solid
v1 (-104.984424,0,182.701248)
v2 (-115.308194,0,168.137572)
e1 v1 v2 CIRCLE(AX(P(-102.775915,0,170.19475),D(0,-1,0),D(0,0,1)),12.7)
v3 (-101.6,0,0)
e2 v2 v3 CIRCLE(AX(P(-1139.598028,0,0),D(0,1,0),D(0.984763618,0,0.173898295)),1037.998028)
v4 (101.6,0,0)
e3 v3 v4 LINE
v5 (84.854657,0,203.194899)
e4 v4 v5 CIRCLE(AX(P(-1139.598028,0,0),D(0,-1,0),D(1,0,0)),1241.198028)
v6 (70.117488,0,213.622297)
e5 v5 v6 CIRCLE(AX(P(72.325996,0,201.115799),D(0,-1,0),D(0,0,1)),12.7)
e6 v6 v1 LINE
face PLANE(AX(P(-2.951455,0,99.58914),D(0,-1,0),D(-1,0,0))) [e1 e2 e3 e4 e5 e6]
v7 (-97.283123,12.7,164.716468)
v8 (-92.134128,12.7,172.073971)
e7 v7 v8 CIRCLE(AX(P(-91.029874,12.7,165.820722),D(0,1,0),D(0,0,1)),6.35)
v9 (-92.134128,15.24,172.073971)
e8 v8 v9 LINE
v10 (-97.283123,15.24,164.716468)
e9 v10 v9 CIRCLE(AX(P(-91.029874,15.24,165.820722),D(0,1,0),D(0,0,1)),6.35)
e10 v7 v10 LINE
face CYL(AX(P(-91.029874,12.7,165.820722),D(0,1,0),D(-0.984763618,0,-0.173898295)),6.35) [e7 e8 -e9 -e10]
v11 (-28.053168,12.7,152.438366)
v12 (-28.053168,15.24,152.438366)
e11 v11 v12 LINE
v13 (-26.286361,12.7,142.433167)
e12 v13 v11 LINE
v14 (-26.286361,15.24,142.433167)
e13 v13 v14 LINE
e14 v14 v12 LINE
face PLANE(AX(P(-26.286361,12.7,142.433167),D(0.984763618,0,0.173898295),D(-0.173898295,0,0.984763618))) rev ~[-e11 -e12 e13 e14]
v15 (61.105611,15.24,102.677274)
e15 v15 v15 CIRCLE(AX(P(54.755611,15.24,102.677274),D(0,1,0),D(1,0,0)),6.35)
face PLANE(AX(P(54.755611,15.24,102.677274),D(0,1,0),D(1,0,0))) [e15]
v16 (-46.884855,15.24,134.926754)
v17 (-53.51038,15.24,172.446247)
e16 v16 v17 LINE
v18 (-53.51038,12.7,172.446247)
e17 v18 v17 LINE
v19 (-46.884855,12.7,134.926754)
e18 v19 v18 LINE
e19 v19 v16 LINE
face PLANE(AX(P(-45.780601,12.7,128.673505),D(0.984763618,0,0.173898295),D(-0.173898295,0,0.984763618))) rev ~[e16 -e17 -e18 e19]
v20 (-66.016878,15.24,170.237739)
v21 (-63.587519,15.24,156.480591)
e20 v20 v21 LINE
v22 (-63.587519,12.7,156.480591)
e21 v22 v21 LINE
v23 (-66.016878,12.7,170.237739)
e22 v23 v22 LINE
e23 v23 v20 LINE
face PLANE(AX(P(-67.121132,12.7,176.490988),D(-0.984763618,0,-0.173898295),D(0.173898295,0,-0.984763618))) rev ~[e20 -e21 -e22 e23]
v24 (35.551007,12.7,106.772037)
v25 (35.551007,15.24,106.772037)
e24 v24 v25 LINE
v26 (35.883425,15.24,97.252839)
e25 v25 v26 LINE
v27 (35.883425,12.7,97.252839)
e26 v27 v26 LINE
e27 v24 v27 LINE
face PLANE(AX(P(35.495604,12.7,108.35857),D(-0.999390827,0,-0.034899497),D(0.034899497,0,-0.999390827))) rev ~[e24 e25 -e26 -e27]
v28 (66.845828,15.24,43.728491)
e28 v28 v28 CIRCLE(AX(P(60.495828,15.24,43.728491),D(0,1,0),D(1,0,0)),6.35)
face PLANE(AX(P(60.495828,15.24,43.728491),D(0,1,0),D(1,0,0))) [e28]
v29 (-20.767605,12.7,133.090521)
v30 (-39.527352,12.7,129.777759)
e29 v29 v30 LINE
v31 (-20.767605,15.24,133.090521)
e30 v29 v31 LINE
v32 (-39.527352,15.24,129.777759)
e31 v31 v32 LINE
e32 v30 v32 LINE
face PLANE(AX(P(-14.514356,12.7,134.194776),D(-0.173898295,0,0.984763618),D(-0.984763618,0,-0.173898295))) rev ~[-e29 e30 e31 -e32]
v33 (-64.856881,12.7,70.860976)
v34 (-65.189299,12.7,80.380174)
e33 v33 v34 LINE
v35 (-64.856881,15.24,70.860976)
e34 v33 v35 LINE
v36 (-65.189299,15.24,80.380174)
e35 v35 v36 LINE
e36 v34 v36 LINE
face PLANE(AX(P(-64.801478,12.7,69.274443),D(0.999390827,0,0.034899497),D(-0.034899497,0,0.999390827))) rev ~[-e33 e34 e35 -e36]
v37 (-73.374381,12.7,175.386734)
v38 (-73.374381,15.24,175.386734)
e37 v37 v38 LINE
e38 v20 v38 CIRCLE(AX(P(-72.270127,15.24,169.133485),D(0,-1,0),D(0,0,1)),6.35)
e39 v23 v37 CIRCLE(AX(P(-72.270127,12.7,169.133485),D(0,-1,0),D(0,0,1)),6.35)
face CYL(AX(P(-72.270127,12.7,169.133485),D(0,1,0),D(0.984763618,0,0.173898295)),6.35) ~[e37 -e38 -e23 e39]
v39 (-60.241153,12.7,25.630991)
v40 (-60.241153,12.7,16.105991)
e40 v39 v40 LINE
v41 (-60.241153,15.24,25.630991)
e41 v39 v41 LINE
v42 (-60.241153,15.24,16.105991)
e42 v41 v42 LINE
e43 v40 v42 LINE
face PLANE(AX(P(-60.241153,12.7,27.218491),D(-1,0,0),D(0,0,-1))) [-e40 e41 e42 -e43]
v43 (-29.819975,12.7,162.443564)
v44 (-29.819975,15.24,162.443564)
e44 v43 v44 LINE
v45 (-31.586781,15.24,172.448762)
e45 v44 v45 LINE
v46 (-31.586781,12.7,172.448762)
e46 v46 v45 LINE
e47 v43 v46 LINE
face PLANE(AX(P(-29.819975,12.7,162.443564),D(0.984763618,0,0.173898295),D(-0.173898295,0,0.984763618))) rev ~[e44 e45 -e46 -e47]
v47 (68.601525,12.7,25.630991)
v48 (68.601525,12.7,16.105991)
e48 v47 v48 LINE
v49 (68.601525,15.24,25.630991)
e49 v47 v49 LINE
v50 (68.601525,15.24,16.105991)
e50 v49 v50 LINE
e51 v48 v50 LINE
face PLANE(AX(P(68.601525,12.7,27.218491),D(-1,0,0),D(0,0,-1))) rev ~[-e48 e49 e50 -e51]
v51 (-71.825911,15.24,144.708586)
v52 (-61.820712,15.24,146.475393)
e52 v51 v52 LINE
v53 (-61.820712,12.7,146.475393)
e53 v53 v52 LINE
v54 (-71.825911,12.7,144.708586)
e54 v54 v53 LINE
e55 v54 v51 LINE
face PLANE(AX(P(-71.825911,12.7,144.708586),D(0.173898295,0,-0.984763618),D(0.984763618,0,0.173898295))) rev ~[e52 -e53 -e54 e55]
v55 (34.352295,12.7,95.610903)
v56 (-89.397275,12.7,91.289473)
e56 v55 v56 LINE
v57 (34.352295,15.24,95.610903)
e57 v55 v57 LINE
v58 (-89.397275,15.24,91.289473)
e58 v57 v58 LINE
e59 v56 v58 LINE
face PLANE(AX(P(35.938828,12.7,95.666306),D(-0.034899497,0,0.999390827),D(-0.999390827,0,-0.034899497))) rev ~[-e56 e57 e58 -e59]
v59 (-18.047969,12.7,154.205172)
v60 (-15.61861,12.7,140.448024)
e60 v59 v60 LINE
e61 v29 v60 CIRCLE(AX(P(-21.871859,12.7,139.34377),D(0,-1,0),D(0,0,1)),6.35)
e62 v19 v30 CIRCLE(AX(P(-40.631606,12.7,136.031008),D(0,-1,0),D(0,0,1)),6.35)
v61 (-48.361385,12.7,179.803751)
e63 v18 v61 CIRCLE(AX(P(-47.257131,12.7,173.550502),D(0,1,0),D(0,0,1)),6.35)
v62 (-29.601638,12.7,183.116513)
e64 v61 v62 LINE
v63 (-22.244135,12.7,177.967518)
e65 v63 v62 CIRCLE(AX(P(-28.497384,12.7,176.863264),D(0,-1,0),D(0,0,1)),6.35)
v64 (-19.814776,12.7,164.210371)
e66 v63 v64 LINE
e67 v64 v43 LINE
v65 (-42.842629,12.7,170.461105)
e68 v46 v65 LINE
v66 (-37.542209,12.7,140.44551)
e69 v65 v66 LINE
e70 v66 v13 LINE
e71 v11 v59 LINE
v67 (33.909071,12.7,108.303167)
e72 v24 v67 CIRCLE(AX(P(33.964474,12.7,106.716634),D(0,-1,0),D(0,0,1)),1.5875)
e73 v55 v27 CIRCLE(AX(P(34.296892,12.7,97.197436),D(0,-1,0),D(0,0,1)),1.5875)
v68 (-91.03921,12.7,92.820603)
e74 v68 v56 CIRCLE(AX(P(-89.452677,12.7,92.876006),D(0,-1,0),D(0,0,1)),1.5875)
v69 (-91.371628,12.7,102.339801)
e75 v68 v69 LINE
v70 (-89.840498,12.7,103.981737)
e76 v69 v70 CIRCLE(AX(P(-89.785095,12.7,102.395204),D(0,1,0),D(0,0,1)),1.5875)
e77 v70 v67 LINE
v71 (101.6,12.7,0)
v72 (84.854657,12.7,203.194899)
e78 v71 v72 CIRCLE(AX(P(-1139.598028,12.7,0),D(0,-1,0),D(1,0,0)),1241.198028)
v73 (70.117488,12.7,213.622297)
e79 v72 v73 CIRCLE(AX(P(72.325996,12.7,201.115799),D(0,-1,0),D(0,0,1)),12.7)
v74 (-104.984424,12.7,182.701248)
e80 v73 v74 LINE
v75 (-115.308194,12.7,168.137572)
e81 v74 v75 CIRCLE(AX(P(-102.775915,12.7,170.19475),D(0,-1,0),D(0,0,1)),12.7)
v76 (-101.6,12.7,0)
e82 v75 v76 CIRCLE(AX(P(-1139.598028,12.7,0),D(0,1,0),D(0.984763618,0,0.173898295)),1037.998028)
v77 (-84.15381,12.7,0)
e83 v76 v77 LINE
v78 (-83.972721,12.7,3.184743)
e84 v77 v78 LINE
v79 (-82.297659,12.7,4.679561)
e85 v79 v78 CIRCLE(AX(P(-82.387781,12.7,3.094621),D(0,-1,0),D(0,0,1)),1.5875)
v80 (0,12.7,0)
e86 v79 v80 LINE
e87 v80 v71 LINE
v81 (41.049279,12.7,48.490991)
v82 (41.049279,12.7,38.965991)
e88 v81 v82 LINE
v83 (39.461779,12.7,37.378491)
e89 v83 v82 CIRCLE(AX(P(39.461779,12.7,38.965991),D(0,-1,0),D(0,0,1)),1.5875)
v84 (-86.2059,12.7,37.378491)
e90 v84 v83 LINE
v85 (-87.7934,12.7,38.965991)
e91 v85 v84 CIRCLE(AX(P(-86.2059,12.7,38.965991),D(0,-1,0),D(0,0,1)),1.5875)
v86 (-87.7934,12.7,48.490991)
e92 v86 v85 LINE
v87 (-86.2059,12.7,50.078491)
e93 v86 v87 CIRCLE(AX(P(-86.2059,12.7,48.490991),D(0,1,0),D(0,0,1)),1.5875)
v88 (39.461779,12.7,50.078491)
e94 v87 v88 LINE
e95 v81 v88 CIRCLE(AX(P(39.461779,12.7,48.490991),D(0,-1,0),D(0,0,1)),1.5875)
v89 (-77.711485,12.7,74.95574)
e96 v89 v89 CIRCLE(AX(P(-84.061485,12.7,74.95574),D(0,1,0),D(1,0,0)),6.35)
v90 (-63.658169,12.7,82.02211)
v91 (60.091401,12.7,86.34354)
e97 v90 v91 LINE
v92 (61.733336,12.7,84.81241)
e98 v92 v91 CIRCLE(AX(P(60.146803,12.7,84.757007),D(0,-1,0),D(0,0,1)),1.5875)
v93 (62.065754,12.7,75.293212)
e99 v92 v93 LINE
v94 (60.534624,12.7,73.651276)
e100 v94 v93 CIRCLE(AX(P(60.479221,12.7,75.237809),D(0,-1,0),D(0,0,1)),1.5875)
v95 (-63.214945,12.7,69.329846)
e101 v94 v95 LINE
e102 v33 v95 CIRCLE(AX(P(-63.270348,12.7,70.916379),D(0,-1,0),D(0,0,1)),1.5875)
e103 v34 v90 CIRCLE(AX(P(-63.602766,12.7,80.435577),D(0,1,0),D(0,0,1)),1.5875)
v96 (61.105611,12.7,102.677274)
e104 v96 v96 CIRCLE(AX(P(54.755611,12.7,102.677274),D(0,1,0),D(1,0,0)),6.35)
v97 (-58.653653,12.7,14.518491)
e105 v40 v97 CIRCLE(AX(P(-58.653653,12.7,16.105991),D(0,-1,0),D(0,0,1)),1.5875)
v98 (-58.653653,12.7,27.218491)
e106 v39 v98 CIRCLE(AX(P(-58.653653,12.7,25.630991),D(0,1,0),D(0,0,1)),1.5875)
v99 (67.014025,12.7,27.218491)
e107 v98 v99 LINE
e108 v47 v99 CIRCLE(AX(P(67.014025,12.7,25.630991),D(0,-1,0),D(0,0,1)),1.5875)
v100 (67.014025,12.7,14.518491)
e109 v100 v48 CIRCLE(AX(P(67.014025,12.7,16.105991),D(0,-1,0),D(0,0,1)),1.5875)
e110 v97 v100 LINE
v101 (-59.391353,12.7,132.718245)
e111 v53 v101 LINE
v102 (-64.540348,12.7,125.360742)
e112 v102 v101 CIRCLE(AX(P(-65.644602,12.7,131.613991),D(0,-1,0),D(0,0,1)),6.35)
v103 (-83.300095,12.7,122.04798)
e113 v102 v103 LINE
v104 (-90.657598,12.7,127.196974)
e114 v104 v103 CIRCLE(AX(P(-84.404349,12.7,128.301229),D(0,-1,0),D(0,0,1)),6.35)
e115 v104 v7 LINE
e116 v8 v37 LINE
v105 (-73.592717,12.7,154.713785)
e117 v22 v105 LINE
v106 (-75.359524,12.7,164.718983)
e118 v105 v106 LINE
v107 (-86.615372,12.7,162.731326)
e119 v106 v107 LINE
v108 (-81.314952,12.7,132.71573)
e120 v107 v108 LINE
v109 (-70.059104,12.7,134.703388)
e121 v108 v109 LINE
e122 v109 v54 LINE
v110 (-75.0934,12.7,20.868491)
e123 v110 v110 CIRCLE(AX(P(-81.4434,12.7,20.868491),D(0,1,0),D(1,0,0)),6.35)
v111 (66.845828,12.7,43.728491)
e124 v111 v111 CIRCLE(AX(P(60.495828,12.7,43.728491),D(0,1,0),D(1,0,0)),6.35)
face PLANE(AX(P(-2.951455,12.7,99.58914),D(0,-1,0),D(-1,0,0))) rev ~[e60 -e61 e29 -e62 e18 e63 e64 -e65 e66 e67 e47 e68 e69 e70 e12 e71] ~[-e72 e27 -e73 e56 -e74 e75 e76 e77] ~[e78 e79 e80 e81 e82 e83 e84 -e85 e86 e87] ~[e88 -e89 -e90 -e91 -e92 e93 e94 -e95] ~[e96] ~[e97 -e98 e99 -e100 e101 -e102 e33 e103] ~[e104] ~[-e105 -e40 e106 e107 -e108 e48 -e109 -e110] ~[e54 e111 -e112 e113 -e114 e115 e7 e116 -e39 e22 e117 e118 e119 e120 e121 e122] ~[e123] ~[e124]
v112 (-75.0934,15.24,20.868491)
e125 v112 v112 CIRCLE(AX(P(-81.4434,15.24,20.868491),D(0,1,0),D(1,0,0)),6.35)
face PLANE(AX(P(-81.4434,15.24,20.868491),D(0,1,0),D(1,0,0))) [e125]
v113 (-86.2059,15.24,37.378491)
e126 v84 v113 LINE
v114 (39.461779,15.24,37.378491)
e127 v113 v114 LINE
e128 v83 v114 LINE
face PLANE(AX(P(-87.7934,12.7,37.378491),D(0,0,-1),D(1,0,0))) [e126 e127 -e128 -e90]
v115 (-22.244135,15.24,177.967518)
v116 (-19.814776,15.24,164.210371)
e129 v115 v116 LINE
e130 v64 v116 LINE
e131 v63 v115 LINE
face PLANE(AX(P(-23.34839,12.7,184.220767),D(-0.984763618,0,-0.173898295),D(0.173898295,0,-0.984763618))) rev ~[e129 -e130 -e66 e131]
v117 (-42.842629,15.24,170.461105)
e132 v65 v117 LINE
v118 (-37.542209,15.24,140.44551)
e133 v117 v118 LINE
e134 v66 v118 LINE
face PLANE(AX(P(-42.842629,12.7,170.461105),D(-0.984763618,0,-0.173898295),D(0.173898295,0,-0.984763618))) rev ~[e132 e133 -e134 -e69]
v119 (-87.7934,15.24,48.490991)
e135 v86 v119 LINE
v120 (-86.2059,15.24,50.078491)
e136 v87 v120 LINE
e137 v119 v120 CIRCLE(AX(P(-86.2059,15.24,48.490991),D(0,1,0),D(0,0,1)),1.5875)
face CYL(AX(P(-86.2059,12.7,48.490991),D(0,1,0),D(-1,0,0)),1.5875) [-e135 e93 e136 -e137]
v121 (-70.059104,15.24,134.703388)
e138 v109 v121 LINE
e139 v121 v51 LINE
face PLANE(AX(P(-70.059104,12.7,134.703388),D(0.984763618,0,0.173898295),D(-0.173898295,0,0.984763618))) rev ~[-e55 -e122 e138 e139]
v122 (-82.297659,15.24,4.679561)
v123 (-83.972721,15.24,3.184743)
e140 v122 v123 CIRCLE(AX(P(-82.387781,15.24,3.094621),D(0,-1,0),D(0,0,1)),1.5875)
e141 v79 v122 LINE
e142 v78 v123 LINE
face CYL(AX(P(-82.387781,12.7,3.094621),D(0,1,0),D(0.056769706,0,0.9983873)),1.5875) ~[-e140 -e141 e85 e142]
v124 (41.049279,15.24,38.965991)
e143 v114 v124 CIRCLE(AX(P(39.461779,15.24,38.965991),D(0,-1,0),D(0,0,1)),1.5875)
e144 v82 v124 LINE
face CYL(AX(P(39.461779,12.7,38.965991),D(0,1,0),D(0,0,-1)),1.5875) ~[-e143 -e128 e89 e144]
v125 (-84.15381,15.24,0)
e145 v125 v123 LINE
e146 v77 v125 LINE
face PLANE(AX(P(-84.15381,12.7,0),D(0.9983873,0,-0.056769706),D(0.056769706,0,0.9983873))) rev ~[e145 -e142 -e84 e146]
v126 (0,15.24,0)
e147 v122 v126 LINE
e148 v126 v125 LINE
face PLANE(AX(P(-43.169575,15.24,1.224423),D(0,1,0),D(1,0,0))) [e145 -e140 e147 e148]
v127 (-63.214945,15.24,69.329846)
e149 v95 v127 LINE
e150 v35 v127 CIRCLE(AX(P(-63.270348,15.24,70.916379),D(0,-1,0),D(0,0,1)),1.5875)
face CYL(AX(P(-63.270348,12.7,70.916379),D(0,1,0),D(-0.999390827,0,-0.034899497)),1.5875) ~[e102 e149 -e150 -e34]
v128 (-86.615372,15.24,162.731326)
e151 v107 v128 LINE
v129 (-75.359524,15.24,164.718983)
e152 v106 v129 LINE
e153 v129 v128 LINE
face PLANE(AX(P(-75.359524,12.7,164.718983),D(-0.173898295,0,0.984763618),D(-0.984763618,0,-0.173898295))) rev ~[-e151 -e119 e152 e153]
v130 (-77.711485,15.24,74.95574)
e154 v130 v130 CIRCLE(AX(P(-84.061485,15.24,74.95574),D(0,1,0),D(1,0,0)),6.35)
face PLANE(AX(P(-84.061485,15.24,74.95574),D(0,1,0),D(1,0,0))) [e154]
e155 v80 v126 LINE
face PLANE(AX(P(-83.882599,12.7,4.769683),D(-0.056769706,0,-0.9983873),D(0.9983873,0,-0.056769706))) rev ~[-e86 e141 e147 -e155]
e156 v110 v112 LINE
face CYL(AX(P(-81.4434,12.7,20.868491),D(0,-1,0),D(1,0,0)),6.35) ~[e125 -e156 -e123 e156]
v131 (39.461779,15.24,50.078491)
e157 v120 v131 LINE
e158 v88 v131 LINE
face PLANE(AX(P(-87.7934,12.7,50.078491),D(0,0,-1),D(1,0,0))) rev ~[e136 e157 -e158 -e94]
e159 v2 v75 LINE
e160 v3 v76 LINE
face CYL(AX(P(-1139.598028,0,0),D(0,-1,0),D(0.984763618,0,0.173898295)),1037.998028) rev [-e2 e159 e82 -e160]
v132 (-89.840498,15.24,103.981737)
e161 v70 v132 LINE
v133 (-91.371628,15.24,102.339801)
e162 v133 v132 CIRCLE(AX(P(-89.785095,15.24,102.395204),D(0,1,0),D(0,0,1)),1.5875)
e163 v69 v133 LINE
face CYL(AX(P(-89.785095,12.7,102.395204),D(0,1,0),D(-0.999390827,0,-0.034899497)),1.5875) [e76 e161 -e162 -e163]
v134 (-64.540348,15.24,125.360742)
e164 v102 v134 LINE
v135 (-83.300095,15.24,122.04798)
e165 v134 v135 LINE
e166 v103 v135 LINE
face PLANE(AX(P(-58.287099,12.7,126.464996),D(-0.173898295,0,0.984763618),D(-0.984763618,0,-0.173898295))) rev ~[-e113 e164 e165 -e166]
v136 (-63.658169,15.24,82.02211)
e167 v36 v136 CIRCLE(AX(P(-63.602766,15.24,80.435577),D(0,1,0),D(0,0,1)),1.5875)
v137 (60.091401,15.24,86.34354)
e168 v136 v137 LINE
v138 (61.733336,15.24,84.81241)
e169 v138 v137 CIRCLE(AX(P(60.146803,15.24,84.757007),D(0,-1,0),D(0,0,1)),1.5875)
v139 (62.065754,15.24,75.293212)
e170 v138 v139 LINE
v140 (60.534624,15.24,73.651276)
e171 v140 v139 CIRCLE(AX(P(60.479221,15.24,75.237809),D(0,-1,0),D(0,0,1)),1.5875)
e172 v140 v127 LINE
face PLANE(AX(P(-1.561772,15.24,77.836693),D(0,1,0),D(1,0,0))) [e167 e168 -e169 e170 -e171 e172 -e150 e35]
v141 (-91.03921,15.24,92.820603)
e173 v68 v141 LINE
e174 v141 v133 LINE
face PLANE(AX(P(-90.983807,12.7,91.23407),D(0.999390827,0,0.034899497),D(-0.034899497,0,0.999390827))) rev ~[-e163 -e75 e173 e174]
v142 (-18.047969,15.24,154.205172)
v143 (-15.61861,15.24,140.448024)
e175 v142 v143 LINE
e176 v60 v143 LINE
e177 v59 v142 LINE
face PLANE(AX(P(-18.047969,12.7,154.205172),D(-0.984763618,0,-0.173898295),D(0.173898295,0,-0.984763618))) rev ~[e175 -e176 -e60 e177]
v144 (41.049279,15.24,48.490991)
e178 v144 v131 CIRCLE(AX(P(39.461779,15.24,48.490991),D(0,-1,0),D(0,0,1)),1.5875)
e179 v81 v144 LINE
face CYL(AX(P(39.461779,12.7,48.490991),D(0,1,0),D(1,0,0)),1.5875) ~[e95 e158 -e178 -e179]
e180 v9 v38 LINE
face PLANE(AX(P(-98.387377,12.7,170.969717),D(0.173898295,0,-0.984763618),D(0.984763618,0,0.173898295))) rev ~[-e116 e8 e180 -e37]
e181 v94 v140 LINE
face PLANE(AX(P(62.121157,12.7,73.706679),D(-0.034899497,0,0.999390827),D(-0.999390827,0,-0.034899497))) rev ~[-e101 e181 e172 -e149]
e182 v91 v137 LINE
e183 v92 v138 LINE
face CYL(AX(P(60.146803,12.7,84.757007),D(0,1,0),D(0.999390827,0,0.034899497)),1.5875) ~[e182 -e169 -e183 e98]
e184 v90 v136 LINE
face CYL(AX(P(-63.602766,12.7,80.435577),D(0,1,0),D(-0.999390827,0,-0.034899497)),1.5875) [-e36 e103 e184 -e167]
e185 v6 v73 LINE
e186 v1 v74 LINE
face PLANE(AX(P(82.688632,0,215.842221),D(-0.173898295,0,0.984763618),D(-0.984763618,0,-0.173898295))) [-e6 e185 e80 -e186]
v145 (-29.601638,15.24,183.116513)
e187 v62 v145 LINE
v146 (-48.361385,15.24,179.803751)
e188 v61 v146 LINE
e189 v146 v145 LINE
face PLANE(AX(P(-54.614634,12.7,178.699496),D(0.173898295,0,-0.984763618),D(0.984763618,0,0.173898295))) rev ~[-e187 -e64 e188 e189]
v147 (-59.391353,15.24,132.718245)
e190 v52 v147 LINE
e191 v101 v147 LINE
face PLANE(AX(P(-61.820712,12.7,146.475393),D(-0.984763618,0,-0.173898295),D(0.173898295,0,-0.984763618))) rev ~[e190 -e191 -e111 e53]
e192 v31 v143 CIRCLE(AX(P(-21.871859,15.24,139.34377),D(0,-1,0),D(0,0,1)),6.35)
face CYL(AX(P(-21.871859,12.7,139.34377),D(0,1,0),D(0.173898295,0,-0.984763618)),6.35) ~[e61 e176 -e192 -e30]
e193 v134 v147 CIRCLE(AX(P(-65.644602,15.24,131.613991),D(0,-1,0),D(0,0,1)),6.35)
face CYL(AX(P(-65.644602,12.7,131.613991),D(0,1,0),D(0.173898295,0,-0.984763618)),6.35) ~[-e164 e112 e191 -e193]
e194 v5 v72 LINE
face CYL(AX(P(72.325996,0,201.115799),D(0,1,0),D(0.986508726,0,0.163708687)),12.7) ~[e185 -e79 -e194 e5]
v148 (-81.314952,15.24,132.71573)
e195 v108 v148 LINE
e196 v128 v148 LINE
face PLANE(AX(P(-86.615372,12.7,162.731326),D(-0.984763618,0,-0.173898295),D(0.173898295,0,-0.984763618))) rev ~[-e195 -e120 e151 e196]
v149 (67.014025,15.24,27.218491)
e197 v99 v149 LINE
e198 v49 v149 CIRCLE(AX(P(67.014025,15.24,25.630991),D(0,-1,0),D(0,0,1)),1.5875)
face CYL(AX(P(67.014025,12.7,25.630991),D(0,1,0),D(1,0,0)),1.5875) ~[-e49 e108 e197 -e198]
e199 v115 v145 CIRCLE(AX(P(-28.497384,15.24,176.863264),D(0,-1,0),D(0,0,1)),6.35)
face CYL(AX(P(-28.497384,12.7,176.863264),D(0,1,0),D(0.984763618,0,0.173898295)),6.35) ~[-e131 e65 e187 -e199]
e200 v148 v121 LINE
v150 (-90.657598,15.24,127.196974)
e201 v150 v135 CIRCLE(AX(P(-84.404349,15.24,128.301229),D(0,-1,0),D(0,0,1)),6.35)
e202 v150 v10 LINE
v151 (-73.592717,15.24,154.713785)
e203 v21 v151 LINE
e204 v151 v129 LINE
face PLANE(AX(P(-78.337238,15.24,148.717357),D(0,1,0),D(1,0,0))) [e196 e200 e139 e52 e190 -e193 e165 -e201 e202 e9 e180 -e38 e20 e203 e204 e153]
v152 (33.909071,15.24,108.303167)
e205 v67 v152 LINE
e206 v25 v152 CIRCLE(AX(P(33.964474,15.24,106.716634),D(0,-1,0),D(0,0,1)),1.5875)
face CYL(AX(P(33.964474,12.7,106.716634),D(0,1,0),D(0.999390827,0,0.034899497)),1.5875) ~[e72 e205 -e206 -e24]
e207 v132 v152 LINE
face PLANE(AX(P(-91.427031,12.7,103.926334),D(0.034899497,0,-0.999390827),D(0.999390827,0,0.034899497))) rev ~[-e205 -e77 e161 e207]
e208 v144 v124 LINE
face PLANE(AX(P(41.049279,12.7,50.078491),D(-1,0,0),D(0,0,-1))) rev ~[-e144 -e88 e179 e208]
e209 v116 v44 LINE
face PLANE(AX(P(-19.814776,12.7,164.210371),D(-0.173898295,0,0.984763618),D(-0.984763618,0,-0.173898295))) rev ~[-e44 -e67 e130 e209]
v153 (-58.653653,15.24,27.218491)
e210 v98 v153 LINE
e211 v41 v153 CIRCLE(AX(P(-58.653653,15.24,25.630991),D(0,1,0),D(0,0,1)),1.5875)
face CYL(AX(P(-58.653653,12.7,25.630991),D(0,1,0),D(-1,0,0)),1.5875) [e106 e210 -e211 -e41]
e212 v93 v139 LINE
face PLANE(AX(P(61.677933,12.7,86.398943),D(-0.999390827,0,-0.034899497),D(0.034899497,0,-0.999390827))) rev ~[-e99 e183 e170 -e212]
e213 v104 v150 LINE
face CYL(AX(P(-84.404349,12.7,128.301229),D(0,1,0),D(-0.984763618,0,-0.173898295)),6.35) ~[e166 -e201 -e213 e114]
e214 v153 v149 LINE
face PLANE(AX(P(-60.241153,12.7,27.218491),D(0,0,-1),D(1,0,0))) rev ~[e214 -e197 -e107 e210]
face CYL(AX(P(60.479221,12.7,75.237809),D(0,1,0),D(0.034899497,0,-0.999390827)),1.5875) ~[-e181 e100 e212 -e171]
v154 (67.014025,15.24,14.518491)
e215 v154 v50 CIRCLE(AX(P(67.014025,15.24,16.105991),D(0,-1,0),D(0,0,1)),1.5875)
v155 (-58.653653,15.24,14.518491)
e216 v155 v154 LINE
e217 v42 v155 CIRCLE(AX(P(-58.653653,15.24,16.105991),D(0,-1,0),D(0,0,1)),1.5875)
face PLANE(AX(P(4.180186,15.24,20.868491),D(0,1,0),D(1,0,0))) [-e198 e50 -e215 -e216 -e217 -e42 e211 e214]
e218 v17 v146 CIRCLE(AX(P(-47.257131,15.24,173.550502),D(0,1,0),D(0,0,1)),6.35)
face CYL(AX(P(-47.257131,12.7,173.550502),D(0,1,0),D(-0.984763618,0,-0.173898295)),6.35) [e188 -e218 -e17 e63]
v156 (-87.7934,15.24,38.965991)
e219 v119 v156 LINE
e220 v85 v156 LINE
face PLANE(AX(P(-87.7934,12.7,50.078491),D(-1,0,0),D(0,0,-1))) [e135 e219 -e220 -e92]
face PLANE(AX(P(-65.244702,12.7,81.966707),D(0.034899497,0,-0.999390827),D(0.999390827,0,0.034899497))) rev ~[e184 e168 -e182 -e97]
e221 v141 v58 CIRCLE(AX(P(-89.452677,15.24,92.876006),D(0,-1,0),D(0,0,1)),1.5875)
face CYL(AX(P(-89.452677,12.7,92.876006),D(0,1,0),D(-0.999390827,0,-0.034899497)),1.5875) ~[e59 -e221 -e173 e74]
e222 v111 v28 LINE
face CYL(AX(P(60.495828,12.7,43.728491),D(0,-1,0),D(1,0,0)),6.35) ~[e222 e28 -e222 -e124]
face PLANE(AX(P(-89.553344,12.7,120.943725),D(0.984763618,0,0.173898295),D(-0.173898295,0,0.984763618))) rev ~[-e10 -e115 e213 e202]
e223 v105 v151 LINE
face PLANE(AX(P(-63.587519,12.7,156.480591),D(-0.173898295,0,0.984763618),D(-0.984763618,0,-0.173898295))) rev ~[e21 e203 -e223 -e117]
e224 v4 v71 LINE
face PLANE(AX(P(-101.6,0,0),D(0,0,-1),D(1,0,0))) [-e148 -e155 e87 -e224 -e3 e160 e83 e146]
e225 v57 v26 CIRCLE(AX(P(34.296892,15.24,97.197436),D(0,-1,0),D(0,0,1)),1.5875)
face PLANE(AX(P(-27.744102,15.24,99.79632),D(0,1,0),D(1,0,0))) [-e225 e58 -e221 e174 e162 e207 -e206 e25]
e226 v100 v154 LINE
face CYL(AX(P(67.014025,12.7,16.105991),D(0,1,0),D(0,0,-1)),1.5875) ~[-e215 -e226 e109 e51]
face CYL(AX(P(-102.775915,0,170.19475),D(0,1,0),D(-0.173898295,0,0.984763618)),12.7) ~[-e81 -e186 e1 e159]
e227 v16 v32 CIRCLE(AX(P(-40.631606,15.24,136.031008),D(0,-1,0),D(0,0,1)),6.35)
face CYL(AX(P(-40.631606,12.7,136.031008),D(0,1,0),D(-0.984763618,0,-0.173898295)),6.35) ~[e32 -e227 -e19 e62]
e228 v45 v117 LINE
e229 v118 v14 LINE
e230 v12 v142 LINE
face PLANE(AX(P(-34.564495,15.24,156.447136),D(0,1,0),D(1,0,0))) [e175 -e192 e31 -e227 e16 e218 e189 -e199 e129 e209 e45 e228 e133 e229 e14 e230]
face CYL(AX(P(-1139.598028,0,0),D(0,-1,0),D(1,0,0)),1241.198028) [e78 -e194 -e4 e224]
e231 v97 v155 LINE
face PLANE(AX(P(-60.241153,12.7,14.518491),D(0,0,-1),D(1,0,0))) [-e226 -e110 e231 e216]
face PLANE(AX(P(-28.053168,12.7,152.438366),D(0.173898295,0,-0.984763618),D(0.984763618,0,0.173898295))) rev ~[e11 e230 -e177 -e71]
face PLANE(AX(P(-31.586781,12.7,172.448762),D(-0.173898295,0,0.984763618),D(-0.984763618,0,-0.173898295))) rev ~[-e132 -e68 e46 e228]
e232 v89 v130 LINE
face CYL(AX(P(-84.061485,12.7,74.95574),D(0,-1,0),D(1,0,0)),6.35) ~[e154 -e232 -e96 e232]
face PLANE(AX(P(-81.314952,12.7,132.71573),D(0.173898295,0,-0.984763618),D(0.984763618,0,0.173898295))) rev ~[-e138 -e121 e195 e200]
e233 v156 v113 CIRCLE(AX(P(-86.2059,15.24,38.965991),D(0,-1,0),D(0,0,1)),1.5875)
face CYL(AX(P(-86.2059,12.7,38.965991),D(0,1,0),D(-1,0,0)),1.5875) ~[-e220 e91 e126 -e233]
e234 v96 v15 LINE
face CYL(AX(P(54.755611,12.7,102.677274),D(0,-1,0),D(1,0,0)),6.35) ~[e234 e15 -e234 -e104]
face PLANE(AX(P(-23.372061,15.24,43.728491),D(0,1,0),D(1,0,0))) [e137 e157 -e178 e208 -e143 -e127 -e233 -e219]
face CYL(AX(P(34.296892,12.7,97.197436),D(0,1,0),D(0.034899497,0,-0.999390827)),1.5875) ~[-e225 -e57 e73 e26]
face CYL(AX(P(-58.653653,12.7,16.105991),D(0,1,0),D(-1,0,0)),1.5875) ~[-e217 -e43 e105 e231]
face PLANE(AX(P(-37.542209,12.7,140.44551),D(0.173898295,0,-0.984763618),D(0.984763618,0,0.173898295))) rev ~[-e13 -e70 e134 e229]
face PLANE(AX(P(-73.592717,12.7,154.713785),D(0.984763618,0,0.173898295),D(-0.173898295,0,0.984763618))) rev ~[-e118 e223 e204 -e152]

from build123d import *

# Parameters (mm, degrees)
BOSS_EXTRUDE1_DEPTH = 12.7
FILLET1_R           = 12.7
BOSS_EXTRUDE2_DEPTH = 2.54
FILLET2_R           = 6.35
SKETCH3_R           = 6.35
SKETCH3_W           = 128.842678874
SKETCH3_H           = 12.7
BOSS_EXTRUDE3_DEPTH = 2.54
FILLET3_R           = 1.5875


with BuildPart() as part:
    # Sketch1 → Boss-Extrude1 (new body)
    with BuildSketch(Plane(origin=(0, 0, 0), x_dir=(1, 0, 0), z_dir=(0, 1, 0))):
        with BuildLine():
            Line((-101.6, 0), (101.6, 0))
            ThreePointArc((101.6, 0), (96.863119244, -108.334556213), (82.688632431, -215.842221209))
            Line((82.688632431, -215.842221209), (-117.415334702, -180.506087613))
            ThreePointArc((-117.415334702, -180.506087613), (-105.561392761, -90.598803078), (-101.6, 0))
        make_face()
    extrude(amount=BOSS_EXTRUDE1_DEPTH)

    # Fillet1
    fillet1_edges = [part.edges().sort_by_distance(p)[0] for p in [
        (82.688632431, 6.35, 215.842221209),
        (-117.415334702, 6.35, 180.506087613),
    ]]
    fillet(fillet1_edges, radius=FILLET1_R)

    # Sketch2 → Boss-Extrude2 (add)
    with BuildSketch(Plane(origin=(0, 12.7, 0), x_dir=(1, 0, 0), z_dir=(0, 1, 0))):
        Polygon((-54.61463437, -178.699496428), (-23.348389506, -184.220767302), (-19.814776146, -164.210370589), (-29.819974503, -162.443563909), (-31.586781182, -172.448762265), (-42.842629334, -170.461104751), (-37.542209294, -140.445509681), (-26.286361143, -142.433167195), (-28.053167823, -152.438365552), (-18.047969466, -154.205172232), (-14.514356107, -134.194775519), (-45.780600971, -128.673504644), align=None)
        Polygon((-98.387377181, -170.969717203), (-67.121132316, -176.490988078), (-63.587518956, -156.480591364), (-73.592717313, -154.713784685), (-75.359523993, -164.718983041), (-86.615372144, -162.731325527), (-81.314952105, -132.715730457), (-70.059103953, -134.703387971), (-71.825910633, -144.708586328), (-61.820712277, -146.475393008), (-58.287098917, -126.464996294), (-89.553343782, -120.94372542), align=None)
    extrude(amount=BOSS_EXTRUDE2_DEPTH)

    # Fillet2
    fillet2_edges = [part.edges().sort_by_distance(p)[0] for p in [
        (-67.121132316, 13.97, 176.490988078),
        (-58.287098917, 13.97, 126.464996294),
        (-89.553343782, 13.97, 120.94372542),
        (-98.387377181, 13.97, 170.969717203),
        (-23.348389506, 13.97, 184.220767302),
        (-14.514356107, 13.97, 134.194775519),
        (-45.780600971, 13.97, 128.673504644),
        (-54.61463437, 13.97, 178.699496428),
    ]]
    fillet(fillet2_edges, radius=FILLET2_R)

    # Sketch3 → Boss-Extrude3 (add)
    with BuildSketch(Plane(origin=(0, 12.7, 0), x_dir=(1, 0, 0), z_dir=(0, 1, 0))):
        with Locations((-84.061485004, -74.95573952)):
            Circle(SKETCH3_R)
        with Locations((54.755611036, -102.677273515)):
            Circle(SKETCH3_R)
        with Locations((-81.443399967, -20.868490804)):
            Circle(SKETCH3_R)
        with Locations((60.495827673, -43.728490804)):
            Circle(SKETCH3_R)
        Polygon((-65.244701553, -81.966706683), (61.677933479, -86.398942765), (62.121157087, -73.706679262), (-64.801477945, -69.27444318), align=None)
        Polygon((-91.427031054, -103.926333773), (35.495603978, -108.358569854), (35.938827586, -95.666306351), (-90.983807446, -91.23407027), align=None)
        with Locations((4.18018601, -20.868490804)):
            Rectangle(SKETCH3_W, SKETCH3_H)
        with Locations((-23.37206053, -43.728490804)):
            Rectangle(SKETCH3_W, SKETCH3_H)
        Polygon((-84.153810009, 0), (-83.882599151, -4.769682556), (0, 0), align=None)
    extrude(amount=BOSS_EXTRUDE3_DEPTH)

    # Fillet3
    fillet3_edges = [part.edges().sort_by_distance(p)[0] for p in [
        (-64.801477945, 13.97, 69.27444318),
        (-65.244701553, 13.97, 81.966706683),
        (61.677933479, 13.97, 86.398942765),
        (62.121157087, 13.97, 73.706679262),
        (-83.882599151, 13.97, 4.769682556),
        (-90.983807446, 13.97, 91.23407027),
        (-91.427031054, 13.97, 103.926333773),
        (35.495603978, 13.97, 108.358569854),
        (35.938827586, 13.97, 95.666306351),
        (-60.241153427, 13.97, 14.518490804),
        (-60.241153427, 13.97, 27.218490804),
        (68.601525447, 13.97, 27.218490804),
        (68.601525447, 13.97, 14.518490804),
        (-87.793399967, 13.97, 37.378490804),
        (-87.793399967, 13.97, 50.078490804),
        (41.049278907, 13.97, 50.078490804),
        (41.049278907, 13.97, 37.378490804),
    ]]
    fillet(fillet3_edges, radius=FILLET3_R)


solid = part.part
